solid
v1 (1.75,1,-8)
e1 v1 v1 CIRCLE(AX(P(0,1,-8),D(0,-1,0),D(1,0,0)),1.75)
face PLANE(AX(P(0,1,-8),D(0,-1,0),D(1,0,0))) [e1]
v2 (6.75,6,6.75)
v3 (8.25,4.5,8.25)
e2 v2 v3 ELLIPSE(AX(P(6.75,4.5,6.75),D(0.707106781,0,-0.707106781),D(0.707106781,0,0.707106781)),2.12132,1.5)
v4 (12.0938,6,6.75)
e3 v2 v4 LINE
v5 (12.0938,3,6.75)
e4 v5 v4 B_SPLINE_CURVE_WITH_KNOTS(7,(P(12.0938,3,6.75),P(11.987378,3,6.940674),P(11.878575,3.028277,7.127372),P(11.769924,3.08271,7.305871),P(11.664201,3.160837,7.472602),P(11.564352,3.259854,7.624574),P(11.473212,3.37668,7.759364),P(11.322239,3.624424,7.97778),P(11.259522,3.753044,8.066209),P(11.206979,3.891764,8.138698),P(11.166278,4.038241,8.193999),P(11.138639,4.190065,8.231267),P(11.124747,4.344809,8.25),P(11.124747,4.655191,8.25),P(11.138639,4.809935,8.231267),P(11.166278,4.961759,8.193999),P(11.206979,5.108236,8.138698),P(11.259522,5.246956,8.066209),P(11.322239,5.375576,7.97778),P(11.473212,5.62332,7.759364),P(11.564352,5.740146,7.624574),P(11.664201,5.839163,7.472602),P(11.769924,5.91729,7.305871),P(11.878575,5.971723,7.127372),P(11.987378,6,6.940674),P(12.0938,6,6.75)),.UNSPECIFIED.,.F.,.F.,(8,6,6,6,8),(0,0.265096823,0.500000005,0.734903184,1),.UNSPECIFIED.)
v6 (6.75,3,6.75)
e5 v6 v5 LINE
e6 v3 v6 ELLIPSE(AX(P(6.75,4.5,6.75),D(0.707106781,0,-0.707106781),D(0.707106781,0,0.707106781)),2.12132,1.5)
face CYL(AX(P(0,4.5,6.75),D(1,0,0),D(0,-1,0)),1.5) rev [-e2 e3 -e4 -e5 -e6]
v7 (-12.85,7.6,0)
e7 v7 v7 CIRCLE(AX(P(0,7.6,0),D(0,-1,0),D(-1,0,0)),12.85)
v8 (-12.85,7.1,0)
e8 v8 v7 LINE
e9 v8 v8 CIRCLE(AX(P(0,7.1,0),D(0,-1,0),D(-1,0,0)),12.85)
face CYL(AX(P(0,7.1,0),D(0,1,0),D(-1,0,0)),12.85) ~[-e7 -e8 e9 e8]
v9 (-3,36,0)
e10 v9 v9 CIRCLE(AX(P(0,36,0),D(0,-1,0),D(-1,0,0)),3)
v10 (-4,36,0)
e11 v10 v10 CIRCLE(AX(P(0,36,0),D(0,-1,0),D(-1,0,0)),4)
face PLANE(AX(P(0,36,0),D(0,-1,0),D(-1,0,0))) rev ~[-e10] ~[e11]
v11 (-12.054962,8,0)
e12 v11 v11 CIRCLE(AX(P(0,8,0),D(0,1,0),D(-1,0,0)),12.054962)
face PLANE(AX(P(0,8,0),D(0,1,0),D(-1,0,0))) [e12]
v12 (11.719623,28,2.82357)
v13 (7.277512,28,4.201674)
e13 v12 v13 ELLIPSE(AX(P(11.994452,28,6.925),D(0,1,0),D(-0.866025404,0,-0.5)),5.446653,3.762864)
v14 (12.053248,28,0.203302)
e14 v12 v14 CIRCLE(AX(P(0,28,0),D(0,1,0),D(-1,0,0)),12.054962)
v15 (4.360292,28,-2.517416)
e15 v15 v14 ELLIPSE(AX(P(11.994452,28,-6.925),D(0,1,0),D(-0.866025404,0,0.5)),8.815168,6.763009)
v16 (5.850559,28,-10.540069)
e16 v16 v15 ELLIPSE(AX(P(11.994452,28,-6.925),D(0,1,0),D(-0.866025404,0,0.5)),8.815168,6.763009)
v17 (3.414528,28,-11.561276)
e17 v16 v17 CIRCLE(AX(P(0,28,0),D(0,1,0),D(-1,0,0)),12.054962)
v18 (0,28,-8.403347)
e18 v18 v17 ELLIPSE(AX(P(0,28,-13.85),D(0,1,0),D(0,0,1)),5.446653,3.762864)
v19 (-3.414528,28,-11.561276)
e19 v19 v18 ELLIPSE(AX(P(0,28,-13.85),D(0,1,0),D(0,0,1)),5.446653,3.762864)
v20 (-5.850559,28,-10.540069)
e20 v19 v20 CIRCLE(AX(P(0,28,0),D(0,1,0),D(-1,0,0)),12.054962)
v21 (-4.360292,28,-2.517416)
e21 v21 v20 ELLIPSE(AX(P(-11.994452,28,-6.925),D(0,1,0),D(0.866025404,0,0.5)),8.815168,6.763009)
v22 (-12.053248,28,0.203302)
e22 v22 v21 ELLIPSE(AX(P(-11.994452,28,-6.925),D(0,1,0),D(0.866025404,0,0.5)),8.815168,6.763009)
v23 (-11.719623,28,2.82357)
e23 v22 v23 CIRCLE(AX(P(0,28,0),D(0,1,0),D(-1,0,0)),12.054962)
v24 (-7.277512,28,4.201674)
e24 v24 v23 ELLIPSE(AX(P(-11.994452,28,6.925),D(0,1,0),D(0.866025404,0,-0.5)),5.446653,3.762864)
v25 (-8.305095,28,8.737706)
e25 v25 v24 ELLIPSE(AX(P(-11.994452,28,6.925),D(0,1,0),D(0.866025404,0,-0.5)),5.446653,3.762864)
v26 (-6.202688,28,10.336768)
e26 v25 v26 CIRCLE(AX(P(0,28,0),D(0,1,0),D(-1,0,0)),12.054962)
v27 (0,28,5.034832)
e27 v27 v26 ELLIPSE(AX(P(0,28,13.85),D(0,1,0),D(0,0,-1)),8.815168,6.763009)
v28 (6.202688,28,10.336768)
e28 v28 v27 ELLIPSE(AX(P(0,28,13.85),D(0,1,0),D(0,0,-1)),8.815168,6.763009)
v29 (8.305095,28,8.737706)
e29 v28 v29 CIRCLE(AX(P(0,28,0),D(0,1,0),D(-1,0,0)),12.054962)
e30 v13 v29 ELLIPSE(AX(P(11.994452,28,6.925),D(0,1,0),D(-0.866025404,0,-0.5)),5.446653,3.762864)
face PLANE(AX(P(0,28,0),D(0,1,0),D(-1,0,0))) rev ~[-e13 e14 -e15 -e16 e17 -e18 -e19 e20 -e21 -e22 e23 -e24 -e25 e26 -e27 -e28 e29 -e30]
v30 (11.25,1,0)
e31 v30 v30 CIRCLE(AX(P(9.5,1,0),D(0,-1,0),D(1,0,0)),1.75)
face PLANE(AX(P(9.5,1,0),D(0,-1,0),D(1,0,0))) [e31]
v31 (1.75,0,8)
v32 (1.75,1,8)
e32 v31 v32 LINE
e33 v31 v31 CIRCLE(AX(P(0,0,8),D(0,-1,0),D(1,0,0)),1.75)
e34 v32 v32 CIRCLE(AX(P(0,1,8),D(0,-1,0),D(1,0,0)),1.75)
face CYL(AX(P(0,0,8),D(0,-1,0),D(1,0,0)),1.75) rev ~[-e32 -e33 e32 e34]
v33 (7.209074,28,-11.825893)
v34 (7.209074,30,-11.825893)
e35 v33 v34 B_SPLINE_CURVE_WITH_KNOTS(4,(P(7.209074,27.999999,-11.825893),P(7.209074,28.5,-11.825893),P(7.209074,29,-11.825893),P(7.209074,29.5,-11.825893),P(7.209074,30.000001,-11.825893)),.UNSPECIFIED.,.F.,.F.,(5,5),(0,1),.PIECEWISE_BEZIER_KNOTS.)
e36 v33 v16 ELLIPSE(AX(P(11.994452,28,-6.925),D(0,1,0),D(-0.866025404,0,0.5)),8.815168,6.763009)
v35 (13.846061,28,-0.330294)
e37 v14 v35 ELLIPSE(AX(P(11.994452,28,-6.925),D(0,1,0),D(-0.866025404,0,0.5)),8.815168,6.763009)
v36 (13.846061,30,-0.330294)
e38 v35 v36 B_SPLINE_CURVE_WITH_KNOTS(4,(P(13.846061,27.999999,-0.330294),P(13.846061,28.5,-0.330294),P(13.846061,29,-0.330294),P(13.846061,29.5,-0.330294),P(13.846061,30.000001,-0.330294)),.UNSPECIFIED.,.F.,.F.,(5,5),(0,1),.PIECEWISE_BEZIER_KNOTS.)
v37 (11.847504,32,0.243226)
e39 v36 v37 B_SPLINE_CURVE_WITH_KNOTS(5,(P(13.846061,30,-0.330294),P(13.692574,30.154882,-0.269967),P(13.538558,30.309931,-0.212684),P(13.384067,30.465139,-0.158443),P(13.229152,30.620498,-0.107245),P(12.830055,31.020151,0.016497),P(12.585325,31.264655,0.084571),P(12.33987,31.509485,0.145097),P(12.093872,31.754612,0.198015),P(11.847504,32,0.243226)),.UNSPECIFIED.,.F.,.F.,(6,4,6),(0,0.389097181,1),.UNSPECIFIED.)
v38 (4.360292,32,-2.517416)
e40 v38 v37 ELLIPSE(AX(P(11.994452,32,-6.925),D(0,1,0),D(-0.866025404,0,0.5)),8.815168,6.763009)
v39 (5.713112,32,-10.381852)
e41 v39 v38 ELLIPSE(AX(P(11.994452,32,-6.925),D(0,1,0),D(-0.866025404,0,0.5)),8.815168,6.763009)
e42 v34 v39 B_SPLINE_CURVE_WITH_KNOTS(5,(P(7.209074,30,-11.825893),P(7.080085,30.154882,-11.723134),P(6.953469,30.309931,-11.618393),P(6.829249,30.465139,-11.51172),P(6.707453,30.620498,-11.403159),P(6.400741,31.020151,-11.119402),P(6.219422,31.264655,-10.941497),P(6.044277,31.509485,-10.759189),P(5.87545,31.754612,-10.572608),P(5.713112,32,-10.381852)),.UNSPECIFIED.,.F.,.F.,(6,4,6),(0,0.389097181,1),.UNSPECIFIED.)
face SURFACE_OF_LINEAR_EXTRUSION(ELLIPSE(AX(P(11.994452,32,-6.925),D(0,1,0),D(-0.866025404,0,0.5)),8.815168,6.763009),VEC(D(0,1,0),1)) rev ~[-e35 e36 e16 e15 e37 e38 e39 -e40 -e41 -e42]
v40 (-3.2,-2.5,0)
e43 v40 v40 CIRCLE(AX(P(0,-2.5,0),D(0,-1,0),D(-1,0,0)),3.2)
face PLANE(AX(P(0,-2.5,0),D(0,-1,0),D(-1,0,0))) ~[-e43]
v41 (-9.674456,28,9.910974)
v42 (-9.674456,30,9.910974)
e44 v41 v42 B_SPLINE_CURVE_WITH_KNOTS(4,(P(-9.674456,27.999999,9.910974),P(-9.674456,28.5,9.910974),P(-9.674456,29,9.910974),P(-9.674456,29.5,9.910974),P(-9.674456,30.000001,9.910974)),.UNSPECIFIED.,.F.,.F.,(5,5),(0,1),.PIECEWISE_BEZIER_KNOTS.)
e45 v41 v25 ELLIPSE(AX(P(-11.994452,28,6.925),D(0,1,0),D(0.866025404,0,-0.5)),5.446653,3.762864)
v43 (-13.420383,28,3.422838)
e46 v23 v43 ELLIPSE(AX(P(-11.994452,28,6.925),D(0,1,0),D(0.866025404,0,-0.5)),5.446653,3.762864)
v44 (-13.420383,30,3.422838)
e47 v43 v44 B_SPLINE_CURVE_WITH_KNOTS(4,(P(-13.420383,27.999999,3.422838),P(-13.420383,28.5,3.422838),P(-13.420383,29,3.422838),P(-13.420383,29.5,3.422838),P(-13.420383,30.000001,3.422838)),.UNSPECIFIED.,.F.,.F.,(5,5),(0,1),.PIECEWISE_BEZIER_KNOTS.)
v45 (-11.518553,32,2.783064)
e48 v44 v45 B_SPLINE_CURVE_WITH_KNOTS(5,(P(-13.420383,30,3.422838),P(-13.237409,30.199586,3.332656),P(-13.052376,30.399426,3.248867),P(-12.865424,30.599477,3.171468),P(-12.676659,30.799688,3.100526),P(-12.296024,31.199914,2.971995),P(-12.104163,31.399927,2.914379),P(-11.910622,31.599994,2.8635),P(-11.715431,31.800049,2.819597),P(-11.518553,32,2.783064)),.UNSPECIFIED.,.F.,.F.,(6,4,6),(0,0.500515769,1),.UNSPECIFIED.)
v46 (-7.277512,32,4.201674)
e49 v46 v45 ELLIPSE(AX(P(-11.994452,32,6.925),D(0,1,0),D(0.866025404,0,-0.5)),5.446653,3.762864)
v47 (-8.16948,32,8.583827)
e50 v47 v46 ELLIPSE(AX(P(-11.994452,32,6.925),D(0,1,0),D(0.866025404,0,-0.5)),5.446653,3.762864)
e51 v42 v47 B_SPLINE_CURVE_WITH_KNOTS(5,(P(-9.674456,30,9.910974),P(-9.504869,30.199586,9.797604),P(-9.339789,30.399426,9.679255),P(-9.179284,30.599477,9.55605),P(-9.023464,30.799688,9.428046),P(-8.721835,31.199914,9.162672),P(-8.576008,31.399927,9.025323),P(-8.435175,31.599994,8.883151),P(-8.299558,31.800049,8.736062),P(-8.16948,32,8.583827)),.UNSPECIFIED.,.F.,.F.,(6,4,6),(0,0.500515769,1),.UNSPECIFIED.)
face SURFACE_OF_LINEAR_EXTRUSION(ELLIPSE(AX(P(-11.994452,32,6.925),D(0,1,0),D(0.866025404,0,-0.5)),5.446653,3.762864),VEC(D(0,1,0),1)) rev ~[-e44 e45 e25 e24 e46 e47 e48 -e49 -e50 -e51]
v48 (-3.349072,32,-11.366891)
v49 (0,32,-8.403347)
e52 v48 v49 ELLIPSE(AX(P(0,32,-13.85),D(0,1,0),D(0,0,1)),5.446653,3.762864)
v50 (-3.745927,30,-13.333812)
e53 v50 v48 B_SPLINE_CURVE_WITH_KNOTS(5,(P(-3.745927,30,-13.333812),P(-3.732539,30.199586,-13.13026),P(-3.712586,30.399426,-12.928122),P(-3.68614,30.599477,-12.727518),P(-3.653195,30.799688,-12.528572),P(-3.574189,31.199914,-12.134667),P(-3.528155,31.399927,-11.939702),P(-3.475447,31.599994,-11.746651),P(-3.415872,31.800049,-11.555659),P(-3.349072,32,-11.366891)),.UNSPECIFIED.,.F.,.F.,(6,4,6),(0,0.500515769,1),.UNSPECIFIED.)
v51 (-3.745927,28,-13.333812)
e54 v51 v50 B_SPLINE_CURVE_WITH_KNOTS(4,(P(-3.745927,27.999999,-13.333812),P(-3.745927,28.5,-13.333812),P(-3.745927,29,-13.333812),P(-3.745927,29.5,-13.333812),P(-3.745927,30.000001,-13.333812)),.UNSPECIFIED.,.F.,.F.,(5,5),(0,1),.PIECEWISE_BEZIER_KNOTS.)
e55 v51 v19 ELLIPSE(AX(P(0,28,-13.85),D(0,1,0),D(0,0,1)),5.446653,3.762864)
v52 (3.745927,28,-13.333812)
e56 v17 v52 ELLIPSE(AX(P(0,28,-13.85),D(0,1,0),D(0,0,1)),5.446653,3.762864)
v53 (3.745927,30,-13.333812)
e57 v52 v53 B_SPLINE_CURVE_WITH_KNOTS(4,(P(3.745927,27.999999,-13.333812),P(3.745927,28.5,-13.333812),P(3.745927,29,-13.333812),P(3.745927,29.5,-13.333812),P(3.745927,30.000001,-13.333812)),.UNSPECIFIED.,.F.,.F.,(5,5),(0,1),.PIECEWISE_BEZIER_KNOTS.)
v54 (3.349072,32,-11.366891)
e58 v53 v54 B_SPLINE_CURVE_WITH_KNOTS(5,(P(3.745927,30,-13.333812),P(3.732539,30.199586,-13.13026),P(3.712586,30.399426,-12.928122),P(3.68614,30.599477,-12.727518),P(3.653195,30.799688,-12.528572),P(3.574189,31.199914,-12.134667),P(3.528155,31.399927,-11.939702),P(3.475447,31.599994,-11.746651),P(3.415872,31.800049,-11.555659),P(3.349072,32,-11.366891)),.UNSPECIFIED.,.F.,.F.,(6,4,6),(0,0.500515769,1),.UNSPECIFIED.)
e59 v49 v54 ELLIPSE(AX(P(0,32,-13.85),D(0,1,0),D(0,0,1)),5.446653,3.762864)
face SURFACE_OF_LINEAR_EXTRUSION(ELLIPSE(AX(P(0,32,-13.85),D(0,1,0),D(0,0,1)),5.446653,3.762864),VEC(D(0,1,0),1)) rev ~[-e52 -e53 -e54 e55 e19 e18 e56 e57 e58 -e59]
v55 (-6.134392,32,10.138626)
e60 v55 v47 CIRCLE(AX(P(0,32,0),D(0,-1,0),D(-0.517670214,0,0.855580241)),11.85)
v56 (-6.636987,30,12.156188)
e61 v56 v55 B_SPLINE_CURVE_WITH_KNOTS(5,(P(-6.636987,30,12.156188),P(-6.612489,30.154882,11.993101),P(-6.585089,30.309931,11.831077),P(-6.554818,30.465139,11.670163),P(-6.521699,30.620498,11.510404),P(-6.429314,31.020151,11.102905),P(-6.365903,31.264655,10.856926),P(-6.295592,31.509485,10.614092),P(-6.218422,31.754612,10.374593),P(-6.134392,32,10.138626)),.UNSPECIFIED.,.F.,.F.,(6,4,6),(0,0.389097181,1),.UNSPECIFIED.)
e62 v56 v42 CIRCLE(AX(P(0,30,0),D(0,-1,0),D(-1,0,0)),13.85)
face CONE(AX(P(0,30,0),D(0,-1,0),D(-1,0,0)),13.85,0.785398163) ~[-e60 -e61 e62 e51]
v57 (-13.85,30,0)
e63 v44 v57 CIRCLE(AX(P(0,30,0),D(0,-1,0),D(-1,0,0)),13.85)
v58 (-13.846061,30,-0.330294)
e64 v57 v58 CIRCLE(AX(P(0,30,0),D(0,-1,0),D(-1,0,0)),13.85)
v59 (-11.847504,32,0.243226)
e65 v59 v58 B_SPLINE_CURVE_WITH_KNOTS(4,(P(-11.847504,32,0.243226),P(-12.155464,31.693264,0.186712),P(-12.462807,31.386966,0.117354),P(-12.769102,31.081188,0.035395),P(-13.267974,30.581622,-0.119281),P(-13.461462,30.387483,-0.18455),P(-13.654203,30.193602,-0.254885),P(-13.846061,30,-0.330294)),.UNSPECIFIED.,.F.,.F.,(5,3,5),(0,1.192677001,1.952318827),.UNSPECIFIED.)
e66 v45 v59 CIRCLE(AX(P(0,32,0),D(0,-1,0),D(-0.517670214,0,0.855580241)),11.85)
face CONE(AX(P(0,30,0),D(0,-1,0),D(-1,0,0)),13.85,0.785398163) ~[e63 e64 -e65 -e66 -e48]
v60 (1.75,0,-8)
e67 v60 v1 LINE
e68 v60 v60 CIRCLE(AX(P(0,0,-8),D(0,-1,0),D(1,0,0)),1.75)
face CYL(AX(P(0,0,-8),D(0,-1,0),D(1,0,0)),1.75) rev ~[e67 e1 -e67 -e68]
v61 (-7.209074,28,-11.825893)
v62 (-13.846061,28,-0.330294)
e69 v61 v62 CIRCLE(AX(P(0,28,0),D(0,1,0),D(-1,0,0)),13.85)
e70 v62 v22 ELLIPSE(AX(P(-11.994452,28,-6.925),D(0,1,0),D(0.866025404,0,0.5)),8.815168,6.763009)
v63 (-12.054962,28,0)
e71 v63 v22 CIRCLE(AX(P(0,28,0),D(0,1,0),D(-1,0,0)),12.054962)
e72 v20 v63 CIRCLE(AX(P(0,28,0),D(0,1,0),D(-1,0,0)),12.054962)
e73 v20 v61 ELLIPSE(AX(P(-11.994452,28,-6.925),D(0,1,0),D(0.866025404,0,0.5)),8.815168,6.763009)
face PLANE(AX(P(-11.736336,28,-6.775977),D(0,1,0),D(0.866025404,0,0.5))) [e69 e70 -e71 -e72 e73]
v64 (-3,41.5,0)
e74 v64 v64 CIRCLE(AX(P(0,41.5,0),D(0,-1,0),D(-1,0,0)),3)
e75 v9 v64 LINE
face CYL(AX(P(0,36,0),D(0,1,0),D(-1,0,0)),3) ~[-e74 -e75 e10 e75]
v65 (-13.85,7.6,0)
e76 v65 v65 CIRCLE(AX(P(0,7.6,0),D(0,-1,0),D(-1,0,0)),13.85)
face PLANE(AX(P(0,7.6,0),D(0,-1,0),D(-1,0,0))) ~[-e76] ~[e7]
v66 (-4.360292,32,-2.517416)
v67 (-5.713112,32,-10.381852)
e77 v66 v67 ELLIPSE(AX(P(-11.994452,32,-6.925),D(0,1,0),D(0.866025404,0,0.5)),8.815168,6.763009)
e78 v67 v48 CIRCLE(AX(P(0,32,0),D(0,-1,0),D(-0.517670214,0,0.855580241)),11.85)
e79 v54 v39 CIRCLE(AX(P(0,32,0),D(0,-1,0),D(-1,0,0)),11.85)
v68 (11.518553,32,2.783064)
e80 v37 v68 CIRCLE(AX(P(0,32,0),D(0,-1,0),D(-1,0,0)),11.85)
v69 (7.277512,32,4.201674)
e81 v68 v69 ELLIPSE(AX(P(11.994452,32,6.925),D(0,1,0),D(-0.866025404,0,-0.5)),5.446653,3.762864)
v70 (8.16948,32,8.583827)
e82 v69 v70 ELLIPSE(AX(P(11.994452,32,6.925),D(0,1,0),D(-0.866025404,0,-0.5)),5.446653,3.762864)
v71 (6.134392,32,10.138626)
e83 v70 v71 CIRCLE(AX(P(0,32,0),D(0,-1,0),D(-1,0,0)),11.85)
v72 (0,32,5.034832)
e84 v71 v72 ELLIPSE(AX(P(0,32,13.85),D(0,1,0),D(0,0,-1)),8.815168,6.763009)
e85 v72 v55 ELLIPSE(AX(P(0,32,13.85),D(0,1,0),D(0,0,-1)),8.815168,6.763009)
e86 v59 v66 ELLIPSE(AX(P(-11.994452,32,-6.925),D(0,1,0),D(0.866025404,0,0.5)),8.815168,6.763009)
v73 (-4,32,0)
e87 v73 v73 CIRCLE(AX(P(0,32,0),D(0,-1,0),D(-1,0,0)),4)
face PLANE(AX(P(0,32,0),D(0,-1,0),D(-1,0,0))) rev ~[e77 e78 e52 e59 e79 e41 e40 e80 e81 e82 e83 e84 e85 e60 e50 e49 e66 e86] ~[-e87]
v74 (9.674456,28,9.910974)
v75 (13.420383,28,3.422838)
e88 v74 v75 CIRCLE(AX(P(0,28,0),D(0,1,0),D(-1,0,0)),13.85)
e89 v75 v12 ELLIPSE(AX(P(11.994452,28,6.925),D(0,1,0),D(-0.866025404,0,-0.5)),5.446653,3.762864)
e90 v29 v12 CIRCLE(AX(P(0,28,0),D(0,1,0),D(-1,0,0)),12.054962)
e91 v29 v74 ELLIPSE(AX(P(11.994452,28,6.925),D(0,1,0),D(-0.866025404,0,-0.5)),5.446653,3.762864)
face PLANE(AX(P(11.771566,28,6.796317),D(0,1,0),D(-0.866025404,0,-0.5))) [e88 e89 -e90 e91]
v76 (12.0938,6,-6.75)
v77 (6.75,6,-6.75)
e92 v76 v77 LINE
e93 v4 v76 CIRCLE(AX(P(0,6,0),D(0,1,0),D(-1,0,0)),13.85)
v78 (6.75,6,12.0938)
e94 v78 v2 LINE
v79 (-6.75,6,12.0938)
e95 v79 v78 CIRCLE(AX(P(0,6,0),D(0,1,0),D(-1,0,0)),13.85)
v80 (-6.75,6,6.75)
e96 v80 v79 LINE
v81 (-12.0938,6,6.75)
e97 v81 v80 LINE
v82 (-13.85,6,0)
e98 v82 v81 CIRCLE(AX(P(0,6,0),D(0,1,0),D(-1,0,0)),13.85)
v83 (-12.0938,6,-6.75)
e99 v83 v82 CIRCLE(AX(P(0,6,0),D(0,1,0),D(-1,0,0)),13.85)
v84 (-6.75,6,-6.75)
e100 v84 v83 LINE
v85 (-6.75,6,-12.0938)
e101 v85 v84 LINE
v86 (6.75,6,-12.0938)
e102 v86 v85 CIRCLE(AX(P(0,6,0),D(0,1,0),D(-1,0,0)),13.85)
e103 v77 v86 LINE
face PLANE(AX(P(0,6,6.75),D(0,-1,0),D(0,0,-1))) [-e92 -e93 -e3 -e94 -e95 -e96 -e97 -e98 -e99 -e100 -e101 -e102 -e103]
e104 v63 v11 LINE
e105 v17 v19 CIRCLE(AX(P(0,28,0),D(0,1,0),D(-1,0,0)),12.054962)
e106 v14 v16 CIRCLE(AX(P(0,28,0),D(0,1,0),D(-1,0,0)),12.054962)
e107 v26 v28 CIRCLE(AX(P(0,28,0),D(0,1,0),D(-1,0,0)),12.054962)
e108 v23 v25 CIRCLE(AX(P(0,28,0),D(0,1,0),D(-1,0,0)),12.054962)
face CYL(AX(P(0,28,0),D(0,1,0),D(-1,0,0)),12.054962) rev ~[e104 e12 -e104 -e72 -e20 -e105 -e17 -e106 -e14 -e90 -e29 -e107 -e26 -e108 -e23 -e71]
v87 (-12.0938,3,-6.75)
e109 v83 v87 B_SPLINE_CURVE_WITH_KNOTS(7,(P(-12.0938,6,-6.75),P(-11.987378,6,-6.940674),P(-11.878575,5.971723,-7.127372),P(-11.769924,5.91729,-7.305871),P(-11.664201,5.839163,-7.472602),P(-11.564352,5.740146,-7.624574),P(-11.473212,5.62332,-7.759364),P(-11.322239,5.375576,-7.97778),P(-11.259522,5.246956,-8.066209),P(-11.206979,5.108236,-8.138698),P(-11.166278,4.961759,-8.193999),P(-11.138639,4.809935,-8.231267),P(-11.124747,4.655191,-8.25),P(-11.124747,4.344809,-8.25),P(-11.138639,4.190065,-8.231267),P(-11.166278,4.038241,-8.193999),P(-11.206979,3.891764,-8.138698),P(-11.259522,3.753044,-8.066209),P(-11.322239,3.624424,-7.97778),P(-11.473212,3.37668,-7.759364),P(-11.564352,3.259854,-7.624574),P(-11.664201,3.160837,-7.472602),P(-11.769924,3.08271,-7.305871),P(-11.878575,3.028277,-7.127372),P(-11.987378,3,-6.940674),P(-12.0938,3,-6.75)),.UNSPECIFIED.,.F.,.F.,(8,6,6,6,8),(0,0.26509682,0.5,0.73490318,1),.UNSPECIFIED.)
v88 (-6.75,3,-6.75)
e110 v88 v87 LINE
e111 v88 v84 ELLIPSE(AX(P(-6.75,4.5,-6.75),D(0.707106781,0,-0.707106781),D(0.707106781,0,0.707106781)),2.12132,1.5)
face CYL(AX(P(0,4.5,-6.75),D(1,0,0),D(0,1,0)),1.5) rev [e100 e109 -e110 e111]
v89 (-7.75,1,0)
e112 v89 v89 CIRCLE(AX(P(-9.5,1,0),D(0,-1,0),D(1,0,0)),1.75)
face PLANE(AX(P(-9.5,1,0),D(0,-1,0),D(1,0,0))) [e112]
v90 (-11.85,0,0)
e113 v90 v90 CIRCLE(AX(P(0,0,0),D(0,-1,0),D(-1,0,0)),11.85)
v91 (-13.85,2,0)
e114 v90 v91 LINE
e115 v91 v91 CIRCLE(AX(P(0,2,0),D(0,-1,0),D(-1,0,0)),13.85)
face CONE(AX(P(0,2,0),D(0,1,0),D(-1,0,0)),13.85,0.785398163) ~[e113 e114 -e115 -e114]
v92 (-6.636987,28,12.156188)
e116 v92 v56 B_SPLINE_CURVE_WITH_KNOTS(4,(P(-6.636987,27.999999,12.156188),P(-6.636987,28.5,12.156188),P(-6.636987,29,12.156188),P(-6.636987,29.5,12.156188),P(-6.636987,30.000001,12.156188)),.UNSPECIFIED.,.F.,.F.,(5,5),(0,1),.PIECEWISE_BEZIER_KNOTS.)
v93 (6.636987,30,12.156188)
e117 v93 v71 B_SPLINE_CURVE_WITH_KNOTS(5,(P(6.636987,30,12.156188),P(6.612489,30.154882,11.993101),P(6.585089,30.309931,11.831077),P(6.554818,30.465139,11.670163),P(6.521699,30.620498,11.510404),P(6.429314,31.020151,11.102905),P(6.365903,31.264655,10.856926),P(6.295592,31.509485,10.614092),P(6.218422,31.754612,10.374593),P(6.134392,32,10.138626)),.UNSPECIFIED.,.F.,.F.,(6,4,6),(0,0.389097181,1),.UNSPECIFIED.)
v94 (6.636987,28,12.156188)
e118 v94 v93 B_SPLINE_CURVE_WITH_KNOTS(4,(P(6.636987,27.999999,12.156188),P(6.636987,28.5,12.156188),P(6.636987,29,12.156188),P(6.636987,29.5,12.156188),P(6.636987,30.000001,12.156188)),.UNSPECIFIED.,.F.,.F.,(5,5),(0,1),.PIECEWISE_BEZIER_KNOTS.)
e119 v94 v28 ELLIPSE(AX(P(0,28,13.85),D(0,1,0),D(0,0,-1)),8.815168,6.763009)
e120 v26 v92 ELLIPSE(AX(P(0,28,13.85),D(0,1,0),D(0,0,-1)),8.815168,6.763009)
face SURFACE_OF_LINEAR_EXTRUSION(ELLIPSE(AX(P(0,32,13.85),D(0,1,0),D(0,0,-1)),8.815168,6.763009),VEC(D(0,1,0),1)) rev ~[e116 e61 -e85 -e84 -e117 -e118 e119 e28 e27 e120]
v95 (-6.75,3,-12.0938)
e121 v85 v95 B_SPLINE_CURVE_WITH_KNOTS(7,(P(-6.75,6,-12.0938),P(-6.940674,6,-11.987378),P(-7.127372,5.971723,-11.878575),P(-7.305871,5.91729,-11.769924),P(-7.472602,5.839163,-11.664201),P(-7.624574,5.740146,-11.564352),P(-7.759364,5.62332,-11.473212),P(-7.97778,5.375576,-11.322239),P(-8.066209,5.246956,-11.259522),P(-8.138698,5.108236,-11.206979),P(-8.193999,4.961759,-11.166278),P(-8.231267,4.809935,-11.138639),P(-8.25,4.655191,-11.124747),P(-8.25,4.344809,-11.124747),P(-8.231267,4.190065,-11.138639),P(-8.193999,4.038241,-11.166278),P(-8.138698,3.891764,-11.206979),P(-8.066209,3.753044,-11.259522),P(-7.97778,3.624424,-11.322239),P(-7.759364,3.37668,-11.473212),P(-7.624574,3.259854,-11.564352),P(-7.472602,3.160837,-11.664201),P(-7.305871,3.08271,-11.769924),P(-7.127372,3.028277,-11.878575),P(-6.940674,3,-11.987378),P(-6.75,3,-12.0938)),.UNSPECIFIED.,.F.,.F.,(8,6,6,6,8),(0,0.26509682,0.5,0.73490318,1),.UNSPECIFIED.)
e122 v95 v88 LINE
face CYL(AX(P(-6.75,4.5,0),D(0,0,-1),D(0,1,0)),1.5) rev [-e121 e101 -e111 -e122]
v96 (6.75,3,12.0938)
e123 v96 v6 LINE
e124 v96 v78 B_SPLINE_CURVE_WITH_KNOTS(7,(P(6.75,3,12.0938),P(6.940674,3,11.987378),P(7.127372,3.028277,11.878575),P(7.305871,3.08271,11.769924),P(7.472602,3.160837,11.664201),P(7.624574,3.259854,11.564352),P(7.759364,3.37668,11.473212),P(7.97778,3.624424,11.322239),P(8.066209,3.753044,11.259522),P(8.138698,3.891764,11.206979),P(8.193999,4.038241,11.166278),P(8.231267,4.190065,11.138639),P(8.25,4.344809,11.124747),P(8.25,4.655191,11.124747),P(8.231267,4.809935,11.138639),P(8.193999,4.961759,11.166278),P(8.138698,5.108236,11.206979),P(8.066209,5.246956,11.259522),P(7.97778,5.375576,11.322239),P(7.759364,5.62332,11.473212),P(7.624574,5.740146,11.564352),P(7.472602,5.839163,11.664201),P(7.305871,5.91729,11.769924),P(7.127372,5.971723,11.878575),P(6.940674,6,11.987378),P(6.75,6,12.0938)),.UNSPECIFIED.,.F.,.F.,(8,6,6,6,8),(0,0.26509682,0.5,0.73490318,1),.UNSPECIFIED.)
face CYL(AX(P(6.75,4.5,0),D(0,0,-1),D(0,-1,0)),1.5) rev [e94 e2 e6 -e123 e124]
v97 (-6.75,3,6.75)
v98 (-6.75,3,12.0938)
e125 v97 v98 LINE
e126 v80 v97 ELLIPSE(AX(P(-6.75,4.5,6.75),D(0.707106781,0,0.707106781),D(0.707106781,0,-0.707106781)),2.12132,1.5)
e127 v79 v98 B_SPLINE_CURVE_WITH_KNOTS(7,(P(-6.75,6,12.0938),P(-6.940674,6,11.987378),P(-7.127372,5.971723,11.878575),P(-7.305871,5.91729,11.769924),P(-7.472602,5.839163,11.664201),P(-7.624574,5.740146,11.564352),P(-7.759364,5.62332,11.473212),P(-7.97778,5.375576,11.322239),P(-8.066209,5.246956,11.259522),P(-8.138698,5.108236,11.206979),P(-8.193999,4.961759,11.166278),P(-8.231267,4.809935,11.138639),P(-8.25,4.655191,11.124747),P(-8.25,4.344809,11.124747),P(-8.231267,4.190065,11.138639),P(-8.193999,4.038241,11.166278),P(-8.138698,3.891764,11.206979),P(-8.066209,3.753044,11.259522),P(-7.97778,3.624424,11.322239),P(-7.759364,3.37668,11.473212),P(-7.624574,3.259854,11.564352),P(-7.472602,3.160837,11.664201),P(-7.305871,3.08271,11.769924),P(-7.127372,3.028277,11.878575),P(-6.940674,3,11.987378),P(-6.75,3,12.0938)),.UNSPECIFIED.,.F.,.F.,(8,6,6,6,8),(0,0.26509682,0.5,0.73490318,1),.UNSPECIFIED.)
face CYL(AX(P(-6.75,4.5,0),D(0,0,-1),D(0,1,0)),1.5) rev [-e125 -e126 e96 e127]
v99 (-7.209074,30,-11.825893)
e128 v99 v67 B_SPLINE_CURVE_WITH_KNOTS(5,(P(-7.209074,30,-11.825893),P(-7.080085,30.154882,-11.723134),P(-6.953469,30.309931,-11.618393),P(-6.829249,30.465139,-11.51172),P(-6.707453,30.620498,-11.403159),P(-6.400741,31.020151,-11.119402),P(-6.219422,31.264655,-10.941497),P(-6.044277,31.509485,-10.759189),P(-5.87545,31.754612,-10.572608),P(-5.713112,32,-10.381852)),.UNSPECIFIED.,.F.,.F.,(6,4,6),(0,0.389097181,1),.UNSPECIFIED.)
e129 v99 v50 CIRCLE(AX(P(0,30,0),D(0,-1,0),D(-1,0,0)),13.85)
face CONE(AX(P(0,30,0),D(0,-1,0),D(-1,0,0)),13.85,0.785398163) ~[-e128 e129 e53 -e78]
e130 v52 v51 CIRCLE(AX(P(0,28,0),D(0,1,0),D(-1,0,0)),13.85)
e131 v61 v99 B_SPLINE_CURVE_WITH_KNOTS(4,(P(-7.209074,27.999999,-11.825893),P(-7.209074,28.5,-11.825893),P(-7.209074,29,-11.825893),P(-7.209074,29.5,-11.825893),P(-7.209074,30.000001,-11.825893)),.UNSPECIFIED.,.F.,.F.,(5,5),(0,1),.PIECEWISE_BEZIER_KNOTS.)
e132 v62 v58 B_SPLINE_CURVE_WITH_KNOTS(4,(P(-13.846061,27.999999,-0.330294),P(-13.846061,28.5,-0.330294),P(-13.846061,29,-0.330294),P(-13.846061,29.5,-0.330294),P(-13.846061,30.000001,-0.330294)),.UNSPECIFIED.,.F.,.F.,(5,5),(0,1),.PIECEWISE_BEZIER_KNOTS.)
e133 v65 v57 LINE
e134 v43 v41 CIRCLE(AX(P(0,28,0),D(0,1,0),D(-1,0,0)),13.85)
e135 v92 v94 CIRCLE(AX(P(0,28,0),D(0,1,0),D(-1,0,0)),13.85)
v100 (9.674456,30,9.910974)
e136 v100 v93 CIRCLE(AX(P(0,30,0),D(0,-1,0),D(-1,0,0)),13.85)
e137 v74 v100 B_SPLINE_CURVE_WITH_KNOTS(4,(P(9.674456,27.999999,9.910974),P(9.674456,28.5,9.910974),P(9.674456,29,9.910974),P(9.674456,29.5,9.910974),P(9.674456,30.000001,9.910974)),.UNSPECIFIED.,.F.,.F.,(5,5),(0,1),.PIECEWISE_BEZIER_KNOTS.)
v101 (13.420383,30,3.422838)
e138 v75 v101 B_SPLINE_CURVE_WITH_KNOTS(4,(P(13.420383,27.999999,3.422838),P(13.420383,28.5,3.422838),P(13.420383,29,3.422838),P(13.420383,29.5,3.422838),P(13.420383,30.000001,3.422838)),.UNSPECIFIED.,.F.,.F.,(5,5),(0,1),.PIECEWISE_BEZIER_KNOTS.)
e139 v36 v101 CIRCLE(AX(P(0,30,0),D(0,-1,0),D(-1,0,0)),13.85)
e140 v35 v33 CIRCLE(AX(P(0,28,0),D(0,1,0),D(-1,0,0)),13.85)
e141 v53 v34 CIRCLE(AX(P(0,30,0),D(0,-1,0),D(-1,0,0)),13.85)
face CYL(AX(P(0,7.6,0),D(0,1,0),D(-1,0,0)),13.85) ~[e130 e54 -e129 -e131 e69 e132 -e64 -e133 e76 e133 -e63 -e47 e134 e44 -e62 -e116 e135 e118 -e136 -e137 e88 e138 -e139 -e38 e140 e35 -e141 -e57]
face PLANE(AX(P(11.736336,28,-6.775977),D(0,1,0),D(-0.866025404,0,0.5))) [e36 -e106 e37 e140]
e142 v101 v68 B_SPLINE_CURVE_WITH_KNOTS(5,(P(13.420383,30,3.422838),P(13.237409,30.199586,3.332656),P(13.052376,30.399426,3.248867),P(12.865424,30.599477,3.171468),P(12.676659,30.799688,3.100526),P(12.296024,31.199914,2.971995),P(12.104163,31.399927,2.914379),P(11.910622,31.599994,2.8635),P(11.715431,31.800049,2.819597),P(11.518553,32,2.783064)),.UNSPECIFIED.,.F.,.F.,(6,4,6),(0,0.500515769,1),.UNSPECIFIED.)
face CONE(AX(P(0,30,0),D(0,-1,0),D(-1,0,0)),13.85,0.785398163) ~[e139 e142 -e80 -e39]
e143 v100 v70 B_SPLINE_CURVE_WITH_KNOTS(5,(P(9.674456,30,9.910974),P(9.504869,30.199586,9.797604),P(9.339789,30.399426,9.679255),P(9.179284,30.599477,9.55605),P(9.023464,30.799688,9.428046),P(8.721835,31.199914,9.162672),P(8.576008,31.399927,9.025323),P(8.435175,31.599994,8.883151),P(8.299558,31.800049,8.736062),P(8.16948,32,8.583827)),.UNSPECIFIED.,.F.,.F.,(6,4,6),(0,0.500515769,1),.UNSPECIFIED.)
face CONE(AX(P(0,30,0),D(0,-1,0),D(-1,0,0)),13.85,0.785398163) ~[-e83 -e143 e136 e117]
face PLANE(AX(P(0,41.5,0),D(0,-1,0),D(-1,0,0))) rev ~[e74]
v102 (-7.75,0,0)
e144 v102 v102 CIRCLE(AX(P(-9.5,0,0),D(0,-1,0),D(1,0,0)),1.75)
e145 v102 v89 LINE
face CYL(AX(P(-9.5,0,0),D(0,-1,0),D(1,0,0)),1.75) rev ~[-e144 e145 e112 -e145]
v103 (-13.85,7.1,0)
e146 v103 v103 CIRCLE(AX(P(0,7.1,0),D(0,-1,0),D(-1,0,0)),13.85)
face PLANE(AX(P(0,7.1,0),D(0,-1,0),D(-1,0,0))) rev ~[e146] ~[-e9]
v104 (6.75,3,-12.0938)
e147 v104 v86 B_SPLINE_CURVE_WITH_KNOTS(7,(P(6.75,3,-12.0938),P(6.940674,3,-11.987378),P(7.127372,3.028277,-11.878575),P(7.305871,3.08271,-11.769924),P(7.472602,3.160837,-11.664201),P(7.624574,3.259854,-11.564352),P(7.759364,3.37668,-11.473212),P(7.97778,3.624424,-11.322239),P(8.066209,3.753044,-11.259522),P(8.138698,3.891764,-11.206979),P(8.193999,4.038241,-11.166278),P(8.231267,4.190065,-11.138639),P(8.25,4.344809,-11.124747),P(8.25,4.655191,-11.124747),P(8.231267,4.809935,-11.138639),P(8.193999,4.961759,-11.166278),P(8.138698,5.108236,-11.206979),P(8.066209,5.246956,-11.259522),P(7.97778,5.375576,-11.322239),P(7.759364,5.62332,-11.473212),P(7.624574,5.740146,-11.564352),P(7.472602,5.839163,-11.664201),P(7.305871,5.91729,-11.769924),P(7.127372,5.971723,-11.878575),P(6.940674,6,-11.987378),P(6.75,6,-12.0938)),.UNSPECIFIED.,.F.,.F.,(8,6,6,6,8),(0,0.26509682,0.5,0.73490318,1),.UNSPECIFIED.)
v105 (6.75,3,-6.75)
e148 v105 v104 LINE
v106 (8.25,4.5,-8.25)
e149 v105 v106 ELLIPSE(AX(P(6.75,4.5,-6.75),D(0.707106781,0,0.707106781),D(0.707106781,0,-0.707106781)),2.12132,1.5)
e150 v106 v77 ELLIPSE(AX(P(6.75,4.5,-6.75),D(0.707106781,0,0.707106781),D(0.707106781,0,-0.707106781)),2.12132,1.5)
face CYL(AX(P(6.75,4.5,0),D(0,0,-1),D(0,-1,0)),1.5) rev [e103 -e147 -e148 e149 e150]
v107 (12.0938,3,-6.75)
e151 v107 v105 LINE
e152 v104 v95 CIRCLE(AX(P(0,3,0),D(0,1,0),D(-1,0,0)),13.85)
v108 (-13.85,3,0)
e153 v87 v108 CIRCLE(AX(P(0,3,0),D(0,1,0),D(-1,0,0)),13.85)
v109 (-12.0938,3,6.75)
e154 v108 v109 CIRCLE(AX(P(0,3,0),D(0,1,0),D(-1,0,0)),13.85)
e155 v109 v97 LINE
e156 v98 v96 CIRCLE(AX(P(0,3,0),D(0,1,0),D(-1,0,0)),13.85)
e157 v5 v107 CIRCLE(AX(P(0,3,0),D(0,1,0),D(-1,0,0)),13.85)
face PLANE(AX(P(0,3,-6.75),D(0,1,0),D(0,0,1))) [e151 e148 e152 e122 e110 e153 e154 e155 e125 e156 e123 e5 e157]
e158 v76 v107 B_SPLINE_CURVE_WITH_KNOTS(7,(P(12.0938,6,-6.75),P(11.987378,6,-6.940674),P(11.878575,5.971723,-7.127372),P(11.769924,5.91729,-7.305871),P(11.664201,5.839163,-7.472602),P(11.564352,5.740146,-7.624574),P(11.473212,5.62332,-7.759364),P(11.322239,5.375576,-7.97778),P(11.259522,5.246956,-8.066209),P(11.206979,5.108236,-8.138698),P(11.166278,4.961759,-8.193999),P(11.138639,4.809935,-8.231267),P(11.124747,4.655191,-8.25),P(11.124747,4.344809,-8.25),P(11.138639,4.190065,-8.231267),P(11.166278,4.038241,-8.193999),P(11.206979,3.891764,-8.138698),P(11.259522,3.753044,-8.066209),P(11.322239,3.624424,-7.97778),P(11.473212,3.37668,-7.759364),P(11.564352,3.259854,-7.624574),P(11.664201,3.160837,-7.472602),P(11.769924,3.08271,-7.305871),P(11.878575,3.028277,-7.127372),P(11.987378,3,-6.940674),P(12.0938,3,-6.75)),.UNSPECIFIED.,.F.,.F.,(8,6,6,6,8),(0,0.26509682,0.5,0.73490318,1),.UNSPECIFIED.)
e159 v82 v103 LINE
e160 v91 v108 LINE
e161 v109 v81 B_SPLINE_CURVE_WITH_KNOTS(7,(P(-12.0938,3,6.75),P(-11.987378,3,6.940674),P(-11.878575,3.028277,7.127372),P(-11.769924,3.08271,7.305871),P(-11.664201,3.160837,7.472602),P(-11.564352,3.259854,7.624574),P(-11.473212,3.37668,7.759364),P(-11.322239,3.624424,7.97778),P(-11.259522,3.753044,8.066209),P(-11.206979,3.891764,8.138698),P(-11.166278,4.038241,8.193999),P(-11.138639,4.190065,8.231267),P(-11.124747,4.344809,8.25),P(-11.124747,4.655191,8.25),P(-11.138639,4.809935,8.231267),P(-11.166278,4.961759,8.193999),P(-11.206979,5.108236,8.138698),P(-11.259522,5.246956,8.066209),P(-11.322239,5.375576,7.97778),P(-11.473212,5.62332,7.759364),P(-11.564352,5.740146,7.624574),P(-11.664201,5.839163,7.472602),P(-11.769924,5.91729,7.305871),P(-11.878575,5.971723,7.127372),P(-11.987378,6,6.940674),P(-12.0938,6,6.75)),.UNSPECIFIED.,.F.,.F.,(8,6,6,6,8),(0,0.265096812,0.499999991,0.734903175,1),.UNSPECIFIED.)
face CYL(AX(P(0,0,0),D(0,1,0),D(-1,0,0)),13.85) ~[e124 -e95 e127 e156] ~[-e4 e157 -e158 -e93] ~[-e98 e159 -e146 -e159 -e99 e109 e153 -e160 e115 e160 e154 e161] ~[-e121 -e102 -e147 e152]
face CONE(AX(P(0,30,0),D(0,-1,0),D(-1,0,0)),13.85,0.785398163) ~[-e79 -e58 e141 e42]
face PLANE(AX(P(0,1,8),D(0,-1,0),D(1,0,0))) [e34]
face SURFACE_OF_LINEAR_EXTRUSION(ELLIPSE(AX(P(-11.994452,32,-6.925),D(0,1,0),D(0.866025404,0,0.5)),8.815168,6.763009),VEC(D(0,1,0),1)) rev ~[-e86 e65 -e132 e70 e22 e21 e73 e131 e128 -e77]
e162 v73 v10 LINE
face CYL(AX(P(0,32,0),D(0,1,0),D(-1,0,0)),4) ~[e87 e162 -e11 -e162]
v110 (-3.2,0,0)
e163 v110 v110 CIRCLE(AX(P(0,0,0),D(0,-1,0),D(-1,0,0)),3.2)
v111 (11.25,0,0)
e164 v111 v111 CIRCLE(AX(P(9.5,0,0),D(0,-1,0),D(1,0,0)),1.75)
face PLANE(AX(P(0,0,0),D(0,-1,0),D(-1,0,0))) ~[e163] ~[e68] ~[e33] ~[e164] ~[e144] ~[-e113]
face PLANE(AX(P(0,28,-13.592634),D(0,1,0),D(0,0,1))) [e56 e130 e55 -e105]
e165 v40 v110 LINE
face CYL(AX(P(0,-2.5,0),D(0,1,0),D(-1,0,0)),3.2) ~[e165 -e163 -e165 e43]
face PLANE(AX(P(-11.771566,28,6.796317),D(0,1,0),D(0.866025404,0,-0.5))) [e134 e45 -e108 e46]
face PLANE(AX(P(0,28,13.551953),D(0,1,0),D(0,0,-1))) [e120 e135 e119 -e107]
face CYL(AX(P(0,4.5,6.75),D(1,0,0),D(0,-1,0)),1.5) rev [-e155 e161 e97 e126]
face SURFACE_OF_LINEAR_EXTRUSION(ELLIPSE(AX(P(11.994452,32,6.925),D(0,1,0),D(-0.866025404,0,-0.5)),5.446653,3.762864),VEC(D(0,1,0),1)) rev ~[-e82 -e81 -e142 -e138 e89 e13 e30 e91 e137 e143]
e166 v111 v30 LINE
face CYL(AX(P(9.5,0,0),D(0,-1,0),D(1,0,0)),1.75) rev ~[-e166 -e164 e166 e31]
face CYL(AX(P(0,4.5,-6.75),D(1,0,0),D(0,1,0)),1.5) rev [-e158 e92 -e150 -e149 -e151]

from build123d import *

# Parameters (mm, degrees)
CHAMFER1_SIZE      = 2
SKETCH2_RX         = 8.815168497
SKETCH2_RY         = 6.763008786
SKETCH2_RX_2       = 5.446652698
SKETCH2_RY_2       = 3.762863515
CUT_EXTRUDE1_DEPTH = 4
CIRPATTERN1_COUNT  = 3
SKETCH3_R          = 12.054961978
CUT_EXTRUDE2_DEPTH = 20
CUT_EXTRUDE3_DEPTH = 46.890031658
CIRPATTERN3_COUNT  = 2
CIRPATTERN3_ANGLE  = 90
SKETCH5_R          = 1.75
CUT_EXTRUDE4_DEPTH = 1


with BuildPart() as part:
    # Sketch1 → Revolve1 (revolve)
    with BuildSketch(Plane.XY):
        Polygon((-3.2, 0), (-13.85, 0), (-13.85, 7.1), (-12.85, 7.1), (-12.85, 7.6), (-13.85, 7.6), (-13.85, 32), (-4, 32), (-4, 36), (-3, 36), (-3, 41.5), (0, 41.5), (0, -2.5), (-3.2, -2.5), align=None)
    revolve(axis=Axis((0, 41.5, 0), (0, -1, 0)))

    # Chamfer1
    chamfer1_edges = [part.edges().sort_by_distance(p)[0] for p in [
        (13.85, 0, 0),
        (13.85, 32, 0),
    ]]
    chamfer(chamfer1_edges, length=CHAMFER1_SIZE)

    # Sketch2 → Cut-Extrude1 (cut)
    with BuildSketch(Plane(origin=(0, 32, 0), x_dir=(1, 0, 0), z_dir=(0, 1, 0))):
        with Locations(Location((0, -13.85), (0, 0, 90))):
            Ellipse(SKETCH2_RX, SKETCH2_RY)
        with Locations(Location((0, 13.85), (0, 0, -90))):
            Ellipse(SKETCH2_RX_2, SKETCH2_RY_2)
        with Locations(Location((-77.957366116, 6.373706544), (0, 0, 90))):
            Ellipse(SKETCH2_RX, SKETCH2_RY)
        with Locations(Location((-77.957366116, 34.073706544), (0, 0, 90))):
            Ellipse(SKETCH2_RX_2, SKETCH2_RY_2)
    cut_extrude1 = extrude(amount=-CUT_EXTRUDE1_DEPTH, mode=Mode.SUBTRACT)

    # CirPattern1: Cut-Extrude1 ×3 about axis
    cirpattern1_axis = Axis((0, 41.5, 0), (0, 1, 0))
    for i in range(1, CIRPATTERN1_COUNT):
        add(cut_extrude1.rotate(cirpattern1_axis, i * 360 / CIRPATTERN1_COUNT), mode=Mode.SUBTRACT)

    # Sketch3 → Cut-Extrude2 (cut)
    with BuildSketch(Plane(origin=(0, 28, 0), x_dir=(1, 0, 0), z_dir=(0, 1, 0))):
        with Locations(Location((0, 0, 0), (0, 0, 180))):
            Circle(SKETCH3_R)
    extrude(amount=-CUT_EXTRUDE2_DEPTH, mode=Mode.SUBTRACT)

    # Sketch4 → Cut-Extrude3 (cut, symmetric)
    with BuildSketch(Plane(origin=(0, 0, 0), x_dir=(0, 0, -1), z_dir=(1, 0, 0))):
        with BuildLine():
            Line((-6.75, 6), (6.75, 6))
            ThreePointArc((6.75, 6), (8.25, 4.5), (6.75, 3))
            Line((6.75, 3), (-6.75, 3))
            ThreePointArc((-6.75, 3), (-8.25, 4.5), (-6.75, 6))
        make_face()
    cut_extrude3 = extrude(amount=CUT_EXTRUDE3_DEPTH, both=True, mode=Mode.SUBTRACT)

    # CirPattern3: Cut-Extrude3 ×2 about axis
    cirpattern3_axis = Axis((0, 41.5, 0), (0, 1, 0))
    for i in range(1, CIRPATTERN3_COUNT):
        add(cut_extrude3.rotate(cirpattern3_axis, i * CIRPATTERN3_ANGLE / (CIRPATTERN3_COUNT - 1)), mode=Mode.SUBTRACT)

    # Sketch5 → Cut-Extrude4 (cut)
    with BuildSketch(Plane.XZ):
        with Locations((-9.5, 0)):
            Circle(SKETCH5_R)
        with Locations((0, 8)):
            Circle(SKETCH5_R)
        with Locations((9.5, 0)):
            Circle(SKETCH5_R)
        with Locations((0, -8)):
            Circle(SKETCH5_R)
    extrude(amount=-CUT_EXTRUDE4_DEPTH, mode=Mode.SUBTRACT)


solid = part.part
